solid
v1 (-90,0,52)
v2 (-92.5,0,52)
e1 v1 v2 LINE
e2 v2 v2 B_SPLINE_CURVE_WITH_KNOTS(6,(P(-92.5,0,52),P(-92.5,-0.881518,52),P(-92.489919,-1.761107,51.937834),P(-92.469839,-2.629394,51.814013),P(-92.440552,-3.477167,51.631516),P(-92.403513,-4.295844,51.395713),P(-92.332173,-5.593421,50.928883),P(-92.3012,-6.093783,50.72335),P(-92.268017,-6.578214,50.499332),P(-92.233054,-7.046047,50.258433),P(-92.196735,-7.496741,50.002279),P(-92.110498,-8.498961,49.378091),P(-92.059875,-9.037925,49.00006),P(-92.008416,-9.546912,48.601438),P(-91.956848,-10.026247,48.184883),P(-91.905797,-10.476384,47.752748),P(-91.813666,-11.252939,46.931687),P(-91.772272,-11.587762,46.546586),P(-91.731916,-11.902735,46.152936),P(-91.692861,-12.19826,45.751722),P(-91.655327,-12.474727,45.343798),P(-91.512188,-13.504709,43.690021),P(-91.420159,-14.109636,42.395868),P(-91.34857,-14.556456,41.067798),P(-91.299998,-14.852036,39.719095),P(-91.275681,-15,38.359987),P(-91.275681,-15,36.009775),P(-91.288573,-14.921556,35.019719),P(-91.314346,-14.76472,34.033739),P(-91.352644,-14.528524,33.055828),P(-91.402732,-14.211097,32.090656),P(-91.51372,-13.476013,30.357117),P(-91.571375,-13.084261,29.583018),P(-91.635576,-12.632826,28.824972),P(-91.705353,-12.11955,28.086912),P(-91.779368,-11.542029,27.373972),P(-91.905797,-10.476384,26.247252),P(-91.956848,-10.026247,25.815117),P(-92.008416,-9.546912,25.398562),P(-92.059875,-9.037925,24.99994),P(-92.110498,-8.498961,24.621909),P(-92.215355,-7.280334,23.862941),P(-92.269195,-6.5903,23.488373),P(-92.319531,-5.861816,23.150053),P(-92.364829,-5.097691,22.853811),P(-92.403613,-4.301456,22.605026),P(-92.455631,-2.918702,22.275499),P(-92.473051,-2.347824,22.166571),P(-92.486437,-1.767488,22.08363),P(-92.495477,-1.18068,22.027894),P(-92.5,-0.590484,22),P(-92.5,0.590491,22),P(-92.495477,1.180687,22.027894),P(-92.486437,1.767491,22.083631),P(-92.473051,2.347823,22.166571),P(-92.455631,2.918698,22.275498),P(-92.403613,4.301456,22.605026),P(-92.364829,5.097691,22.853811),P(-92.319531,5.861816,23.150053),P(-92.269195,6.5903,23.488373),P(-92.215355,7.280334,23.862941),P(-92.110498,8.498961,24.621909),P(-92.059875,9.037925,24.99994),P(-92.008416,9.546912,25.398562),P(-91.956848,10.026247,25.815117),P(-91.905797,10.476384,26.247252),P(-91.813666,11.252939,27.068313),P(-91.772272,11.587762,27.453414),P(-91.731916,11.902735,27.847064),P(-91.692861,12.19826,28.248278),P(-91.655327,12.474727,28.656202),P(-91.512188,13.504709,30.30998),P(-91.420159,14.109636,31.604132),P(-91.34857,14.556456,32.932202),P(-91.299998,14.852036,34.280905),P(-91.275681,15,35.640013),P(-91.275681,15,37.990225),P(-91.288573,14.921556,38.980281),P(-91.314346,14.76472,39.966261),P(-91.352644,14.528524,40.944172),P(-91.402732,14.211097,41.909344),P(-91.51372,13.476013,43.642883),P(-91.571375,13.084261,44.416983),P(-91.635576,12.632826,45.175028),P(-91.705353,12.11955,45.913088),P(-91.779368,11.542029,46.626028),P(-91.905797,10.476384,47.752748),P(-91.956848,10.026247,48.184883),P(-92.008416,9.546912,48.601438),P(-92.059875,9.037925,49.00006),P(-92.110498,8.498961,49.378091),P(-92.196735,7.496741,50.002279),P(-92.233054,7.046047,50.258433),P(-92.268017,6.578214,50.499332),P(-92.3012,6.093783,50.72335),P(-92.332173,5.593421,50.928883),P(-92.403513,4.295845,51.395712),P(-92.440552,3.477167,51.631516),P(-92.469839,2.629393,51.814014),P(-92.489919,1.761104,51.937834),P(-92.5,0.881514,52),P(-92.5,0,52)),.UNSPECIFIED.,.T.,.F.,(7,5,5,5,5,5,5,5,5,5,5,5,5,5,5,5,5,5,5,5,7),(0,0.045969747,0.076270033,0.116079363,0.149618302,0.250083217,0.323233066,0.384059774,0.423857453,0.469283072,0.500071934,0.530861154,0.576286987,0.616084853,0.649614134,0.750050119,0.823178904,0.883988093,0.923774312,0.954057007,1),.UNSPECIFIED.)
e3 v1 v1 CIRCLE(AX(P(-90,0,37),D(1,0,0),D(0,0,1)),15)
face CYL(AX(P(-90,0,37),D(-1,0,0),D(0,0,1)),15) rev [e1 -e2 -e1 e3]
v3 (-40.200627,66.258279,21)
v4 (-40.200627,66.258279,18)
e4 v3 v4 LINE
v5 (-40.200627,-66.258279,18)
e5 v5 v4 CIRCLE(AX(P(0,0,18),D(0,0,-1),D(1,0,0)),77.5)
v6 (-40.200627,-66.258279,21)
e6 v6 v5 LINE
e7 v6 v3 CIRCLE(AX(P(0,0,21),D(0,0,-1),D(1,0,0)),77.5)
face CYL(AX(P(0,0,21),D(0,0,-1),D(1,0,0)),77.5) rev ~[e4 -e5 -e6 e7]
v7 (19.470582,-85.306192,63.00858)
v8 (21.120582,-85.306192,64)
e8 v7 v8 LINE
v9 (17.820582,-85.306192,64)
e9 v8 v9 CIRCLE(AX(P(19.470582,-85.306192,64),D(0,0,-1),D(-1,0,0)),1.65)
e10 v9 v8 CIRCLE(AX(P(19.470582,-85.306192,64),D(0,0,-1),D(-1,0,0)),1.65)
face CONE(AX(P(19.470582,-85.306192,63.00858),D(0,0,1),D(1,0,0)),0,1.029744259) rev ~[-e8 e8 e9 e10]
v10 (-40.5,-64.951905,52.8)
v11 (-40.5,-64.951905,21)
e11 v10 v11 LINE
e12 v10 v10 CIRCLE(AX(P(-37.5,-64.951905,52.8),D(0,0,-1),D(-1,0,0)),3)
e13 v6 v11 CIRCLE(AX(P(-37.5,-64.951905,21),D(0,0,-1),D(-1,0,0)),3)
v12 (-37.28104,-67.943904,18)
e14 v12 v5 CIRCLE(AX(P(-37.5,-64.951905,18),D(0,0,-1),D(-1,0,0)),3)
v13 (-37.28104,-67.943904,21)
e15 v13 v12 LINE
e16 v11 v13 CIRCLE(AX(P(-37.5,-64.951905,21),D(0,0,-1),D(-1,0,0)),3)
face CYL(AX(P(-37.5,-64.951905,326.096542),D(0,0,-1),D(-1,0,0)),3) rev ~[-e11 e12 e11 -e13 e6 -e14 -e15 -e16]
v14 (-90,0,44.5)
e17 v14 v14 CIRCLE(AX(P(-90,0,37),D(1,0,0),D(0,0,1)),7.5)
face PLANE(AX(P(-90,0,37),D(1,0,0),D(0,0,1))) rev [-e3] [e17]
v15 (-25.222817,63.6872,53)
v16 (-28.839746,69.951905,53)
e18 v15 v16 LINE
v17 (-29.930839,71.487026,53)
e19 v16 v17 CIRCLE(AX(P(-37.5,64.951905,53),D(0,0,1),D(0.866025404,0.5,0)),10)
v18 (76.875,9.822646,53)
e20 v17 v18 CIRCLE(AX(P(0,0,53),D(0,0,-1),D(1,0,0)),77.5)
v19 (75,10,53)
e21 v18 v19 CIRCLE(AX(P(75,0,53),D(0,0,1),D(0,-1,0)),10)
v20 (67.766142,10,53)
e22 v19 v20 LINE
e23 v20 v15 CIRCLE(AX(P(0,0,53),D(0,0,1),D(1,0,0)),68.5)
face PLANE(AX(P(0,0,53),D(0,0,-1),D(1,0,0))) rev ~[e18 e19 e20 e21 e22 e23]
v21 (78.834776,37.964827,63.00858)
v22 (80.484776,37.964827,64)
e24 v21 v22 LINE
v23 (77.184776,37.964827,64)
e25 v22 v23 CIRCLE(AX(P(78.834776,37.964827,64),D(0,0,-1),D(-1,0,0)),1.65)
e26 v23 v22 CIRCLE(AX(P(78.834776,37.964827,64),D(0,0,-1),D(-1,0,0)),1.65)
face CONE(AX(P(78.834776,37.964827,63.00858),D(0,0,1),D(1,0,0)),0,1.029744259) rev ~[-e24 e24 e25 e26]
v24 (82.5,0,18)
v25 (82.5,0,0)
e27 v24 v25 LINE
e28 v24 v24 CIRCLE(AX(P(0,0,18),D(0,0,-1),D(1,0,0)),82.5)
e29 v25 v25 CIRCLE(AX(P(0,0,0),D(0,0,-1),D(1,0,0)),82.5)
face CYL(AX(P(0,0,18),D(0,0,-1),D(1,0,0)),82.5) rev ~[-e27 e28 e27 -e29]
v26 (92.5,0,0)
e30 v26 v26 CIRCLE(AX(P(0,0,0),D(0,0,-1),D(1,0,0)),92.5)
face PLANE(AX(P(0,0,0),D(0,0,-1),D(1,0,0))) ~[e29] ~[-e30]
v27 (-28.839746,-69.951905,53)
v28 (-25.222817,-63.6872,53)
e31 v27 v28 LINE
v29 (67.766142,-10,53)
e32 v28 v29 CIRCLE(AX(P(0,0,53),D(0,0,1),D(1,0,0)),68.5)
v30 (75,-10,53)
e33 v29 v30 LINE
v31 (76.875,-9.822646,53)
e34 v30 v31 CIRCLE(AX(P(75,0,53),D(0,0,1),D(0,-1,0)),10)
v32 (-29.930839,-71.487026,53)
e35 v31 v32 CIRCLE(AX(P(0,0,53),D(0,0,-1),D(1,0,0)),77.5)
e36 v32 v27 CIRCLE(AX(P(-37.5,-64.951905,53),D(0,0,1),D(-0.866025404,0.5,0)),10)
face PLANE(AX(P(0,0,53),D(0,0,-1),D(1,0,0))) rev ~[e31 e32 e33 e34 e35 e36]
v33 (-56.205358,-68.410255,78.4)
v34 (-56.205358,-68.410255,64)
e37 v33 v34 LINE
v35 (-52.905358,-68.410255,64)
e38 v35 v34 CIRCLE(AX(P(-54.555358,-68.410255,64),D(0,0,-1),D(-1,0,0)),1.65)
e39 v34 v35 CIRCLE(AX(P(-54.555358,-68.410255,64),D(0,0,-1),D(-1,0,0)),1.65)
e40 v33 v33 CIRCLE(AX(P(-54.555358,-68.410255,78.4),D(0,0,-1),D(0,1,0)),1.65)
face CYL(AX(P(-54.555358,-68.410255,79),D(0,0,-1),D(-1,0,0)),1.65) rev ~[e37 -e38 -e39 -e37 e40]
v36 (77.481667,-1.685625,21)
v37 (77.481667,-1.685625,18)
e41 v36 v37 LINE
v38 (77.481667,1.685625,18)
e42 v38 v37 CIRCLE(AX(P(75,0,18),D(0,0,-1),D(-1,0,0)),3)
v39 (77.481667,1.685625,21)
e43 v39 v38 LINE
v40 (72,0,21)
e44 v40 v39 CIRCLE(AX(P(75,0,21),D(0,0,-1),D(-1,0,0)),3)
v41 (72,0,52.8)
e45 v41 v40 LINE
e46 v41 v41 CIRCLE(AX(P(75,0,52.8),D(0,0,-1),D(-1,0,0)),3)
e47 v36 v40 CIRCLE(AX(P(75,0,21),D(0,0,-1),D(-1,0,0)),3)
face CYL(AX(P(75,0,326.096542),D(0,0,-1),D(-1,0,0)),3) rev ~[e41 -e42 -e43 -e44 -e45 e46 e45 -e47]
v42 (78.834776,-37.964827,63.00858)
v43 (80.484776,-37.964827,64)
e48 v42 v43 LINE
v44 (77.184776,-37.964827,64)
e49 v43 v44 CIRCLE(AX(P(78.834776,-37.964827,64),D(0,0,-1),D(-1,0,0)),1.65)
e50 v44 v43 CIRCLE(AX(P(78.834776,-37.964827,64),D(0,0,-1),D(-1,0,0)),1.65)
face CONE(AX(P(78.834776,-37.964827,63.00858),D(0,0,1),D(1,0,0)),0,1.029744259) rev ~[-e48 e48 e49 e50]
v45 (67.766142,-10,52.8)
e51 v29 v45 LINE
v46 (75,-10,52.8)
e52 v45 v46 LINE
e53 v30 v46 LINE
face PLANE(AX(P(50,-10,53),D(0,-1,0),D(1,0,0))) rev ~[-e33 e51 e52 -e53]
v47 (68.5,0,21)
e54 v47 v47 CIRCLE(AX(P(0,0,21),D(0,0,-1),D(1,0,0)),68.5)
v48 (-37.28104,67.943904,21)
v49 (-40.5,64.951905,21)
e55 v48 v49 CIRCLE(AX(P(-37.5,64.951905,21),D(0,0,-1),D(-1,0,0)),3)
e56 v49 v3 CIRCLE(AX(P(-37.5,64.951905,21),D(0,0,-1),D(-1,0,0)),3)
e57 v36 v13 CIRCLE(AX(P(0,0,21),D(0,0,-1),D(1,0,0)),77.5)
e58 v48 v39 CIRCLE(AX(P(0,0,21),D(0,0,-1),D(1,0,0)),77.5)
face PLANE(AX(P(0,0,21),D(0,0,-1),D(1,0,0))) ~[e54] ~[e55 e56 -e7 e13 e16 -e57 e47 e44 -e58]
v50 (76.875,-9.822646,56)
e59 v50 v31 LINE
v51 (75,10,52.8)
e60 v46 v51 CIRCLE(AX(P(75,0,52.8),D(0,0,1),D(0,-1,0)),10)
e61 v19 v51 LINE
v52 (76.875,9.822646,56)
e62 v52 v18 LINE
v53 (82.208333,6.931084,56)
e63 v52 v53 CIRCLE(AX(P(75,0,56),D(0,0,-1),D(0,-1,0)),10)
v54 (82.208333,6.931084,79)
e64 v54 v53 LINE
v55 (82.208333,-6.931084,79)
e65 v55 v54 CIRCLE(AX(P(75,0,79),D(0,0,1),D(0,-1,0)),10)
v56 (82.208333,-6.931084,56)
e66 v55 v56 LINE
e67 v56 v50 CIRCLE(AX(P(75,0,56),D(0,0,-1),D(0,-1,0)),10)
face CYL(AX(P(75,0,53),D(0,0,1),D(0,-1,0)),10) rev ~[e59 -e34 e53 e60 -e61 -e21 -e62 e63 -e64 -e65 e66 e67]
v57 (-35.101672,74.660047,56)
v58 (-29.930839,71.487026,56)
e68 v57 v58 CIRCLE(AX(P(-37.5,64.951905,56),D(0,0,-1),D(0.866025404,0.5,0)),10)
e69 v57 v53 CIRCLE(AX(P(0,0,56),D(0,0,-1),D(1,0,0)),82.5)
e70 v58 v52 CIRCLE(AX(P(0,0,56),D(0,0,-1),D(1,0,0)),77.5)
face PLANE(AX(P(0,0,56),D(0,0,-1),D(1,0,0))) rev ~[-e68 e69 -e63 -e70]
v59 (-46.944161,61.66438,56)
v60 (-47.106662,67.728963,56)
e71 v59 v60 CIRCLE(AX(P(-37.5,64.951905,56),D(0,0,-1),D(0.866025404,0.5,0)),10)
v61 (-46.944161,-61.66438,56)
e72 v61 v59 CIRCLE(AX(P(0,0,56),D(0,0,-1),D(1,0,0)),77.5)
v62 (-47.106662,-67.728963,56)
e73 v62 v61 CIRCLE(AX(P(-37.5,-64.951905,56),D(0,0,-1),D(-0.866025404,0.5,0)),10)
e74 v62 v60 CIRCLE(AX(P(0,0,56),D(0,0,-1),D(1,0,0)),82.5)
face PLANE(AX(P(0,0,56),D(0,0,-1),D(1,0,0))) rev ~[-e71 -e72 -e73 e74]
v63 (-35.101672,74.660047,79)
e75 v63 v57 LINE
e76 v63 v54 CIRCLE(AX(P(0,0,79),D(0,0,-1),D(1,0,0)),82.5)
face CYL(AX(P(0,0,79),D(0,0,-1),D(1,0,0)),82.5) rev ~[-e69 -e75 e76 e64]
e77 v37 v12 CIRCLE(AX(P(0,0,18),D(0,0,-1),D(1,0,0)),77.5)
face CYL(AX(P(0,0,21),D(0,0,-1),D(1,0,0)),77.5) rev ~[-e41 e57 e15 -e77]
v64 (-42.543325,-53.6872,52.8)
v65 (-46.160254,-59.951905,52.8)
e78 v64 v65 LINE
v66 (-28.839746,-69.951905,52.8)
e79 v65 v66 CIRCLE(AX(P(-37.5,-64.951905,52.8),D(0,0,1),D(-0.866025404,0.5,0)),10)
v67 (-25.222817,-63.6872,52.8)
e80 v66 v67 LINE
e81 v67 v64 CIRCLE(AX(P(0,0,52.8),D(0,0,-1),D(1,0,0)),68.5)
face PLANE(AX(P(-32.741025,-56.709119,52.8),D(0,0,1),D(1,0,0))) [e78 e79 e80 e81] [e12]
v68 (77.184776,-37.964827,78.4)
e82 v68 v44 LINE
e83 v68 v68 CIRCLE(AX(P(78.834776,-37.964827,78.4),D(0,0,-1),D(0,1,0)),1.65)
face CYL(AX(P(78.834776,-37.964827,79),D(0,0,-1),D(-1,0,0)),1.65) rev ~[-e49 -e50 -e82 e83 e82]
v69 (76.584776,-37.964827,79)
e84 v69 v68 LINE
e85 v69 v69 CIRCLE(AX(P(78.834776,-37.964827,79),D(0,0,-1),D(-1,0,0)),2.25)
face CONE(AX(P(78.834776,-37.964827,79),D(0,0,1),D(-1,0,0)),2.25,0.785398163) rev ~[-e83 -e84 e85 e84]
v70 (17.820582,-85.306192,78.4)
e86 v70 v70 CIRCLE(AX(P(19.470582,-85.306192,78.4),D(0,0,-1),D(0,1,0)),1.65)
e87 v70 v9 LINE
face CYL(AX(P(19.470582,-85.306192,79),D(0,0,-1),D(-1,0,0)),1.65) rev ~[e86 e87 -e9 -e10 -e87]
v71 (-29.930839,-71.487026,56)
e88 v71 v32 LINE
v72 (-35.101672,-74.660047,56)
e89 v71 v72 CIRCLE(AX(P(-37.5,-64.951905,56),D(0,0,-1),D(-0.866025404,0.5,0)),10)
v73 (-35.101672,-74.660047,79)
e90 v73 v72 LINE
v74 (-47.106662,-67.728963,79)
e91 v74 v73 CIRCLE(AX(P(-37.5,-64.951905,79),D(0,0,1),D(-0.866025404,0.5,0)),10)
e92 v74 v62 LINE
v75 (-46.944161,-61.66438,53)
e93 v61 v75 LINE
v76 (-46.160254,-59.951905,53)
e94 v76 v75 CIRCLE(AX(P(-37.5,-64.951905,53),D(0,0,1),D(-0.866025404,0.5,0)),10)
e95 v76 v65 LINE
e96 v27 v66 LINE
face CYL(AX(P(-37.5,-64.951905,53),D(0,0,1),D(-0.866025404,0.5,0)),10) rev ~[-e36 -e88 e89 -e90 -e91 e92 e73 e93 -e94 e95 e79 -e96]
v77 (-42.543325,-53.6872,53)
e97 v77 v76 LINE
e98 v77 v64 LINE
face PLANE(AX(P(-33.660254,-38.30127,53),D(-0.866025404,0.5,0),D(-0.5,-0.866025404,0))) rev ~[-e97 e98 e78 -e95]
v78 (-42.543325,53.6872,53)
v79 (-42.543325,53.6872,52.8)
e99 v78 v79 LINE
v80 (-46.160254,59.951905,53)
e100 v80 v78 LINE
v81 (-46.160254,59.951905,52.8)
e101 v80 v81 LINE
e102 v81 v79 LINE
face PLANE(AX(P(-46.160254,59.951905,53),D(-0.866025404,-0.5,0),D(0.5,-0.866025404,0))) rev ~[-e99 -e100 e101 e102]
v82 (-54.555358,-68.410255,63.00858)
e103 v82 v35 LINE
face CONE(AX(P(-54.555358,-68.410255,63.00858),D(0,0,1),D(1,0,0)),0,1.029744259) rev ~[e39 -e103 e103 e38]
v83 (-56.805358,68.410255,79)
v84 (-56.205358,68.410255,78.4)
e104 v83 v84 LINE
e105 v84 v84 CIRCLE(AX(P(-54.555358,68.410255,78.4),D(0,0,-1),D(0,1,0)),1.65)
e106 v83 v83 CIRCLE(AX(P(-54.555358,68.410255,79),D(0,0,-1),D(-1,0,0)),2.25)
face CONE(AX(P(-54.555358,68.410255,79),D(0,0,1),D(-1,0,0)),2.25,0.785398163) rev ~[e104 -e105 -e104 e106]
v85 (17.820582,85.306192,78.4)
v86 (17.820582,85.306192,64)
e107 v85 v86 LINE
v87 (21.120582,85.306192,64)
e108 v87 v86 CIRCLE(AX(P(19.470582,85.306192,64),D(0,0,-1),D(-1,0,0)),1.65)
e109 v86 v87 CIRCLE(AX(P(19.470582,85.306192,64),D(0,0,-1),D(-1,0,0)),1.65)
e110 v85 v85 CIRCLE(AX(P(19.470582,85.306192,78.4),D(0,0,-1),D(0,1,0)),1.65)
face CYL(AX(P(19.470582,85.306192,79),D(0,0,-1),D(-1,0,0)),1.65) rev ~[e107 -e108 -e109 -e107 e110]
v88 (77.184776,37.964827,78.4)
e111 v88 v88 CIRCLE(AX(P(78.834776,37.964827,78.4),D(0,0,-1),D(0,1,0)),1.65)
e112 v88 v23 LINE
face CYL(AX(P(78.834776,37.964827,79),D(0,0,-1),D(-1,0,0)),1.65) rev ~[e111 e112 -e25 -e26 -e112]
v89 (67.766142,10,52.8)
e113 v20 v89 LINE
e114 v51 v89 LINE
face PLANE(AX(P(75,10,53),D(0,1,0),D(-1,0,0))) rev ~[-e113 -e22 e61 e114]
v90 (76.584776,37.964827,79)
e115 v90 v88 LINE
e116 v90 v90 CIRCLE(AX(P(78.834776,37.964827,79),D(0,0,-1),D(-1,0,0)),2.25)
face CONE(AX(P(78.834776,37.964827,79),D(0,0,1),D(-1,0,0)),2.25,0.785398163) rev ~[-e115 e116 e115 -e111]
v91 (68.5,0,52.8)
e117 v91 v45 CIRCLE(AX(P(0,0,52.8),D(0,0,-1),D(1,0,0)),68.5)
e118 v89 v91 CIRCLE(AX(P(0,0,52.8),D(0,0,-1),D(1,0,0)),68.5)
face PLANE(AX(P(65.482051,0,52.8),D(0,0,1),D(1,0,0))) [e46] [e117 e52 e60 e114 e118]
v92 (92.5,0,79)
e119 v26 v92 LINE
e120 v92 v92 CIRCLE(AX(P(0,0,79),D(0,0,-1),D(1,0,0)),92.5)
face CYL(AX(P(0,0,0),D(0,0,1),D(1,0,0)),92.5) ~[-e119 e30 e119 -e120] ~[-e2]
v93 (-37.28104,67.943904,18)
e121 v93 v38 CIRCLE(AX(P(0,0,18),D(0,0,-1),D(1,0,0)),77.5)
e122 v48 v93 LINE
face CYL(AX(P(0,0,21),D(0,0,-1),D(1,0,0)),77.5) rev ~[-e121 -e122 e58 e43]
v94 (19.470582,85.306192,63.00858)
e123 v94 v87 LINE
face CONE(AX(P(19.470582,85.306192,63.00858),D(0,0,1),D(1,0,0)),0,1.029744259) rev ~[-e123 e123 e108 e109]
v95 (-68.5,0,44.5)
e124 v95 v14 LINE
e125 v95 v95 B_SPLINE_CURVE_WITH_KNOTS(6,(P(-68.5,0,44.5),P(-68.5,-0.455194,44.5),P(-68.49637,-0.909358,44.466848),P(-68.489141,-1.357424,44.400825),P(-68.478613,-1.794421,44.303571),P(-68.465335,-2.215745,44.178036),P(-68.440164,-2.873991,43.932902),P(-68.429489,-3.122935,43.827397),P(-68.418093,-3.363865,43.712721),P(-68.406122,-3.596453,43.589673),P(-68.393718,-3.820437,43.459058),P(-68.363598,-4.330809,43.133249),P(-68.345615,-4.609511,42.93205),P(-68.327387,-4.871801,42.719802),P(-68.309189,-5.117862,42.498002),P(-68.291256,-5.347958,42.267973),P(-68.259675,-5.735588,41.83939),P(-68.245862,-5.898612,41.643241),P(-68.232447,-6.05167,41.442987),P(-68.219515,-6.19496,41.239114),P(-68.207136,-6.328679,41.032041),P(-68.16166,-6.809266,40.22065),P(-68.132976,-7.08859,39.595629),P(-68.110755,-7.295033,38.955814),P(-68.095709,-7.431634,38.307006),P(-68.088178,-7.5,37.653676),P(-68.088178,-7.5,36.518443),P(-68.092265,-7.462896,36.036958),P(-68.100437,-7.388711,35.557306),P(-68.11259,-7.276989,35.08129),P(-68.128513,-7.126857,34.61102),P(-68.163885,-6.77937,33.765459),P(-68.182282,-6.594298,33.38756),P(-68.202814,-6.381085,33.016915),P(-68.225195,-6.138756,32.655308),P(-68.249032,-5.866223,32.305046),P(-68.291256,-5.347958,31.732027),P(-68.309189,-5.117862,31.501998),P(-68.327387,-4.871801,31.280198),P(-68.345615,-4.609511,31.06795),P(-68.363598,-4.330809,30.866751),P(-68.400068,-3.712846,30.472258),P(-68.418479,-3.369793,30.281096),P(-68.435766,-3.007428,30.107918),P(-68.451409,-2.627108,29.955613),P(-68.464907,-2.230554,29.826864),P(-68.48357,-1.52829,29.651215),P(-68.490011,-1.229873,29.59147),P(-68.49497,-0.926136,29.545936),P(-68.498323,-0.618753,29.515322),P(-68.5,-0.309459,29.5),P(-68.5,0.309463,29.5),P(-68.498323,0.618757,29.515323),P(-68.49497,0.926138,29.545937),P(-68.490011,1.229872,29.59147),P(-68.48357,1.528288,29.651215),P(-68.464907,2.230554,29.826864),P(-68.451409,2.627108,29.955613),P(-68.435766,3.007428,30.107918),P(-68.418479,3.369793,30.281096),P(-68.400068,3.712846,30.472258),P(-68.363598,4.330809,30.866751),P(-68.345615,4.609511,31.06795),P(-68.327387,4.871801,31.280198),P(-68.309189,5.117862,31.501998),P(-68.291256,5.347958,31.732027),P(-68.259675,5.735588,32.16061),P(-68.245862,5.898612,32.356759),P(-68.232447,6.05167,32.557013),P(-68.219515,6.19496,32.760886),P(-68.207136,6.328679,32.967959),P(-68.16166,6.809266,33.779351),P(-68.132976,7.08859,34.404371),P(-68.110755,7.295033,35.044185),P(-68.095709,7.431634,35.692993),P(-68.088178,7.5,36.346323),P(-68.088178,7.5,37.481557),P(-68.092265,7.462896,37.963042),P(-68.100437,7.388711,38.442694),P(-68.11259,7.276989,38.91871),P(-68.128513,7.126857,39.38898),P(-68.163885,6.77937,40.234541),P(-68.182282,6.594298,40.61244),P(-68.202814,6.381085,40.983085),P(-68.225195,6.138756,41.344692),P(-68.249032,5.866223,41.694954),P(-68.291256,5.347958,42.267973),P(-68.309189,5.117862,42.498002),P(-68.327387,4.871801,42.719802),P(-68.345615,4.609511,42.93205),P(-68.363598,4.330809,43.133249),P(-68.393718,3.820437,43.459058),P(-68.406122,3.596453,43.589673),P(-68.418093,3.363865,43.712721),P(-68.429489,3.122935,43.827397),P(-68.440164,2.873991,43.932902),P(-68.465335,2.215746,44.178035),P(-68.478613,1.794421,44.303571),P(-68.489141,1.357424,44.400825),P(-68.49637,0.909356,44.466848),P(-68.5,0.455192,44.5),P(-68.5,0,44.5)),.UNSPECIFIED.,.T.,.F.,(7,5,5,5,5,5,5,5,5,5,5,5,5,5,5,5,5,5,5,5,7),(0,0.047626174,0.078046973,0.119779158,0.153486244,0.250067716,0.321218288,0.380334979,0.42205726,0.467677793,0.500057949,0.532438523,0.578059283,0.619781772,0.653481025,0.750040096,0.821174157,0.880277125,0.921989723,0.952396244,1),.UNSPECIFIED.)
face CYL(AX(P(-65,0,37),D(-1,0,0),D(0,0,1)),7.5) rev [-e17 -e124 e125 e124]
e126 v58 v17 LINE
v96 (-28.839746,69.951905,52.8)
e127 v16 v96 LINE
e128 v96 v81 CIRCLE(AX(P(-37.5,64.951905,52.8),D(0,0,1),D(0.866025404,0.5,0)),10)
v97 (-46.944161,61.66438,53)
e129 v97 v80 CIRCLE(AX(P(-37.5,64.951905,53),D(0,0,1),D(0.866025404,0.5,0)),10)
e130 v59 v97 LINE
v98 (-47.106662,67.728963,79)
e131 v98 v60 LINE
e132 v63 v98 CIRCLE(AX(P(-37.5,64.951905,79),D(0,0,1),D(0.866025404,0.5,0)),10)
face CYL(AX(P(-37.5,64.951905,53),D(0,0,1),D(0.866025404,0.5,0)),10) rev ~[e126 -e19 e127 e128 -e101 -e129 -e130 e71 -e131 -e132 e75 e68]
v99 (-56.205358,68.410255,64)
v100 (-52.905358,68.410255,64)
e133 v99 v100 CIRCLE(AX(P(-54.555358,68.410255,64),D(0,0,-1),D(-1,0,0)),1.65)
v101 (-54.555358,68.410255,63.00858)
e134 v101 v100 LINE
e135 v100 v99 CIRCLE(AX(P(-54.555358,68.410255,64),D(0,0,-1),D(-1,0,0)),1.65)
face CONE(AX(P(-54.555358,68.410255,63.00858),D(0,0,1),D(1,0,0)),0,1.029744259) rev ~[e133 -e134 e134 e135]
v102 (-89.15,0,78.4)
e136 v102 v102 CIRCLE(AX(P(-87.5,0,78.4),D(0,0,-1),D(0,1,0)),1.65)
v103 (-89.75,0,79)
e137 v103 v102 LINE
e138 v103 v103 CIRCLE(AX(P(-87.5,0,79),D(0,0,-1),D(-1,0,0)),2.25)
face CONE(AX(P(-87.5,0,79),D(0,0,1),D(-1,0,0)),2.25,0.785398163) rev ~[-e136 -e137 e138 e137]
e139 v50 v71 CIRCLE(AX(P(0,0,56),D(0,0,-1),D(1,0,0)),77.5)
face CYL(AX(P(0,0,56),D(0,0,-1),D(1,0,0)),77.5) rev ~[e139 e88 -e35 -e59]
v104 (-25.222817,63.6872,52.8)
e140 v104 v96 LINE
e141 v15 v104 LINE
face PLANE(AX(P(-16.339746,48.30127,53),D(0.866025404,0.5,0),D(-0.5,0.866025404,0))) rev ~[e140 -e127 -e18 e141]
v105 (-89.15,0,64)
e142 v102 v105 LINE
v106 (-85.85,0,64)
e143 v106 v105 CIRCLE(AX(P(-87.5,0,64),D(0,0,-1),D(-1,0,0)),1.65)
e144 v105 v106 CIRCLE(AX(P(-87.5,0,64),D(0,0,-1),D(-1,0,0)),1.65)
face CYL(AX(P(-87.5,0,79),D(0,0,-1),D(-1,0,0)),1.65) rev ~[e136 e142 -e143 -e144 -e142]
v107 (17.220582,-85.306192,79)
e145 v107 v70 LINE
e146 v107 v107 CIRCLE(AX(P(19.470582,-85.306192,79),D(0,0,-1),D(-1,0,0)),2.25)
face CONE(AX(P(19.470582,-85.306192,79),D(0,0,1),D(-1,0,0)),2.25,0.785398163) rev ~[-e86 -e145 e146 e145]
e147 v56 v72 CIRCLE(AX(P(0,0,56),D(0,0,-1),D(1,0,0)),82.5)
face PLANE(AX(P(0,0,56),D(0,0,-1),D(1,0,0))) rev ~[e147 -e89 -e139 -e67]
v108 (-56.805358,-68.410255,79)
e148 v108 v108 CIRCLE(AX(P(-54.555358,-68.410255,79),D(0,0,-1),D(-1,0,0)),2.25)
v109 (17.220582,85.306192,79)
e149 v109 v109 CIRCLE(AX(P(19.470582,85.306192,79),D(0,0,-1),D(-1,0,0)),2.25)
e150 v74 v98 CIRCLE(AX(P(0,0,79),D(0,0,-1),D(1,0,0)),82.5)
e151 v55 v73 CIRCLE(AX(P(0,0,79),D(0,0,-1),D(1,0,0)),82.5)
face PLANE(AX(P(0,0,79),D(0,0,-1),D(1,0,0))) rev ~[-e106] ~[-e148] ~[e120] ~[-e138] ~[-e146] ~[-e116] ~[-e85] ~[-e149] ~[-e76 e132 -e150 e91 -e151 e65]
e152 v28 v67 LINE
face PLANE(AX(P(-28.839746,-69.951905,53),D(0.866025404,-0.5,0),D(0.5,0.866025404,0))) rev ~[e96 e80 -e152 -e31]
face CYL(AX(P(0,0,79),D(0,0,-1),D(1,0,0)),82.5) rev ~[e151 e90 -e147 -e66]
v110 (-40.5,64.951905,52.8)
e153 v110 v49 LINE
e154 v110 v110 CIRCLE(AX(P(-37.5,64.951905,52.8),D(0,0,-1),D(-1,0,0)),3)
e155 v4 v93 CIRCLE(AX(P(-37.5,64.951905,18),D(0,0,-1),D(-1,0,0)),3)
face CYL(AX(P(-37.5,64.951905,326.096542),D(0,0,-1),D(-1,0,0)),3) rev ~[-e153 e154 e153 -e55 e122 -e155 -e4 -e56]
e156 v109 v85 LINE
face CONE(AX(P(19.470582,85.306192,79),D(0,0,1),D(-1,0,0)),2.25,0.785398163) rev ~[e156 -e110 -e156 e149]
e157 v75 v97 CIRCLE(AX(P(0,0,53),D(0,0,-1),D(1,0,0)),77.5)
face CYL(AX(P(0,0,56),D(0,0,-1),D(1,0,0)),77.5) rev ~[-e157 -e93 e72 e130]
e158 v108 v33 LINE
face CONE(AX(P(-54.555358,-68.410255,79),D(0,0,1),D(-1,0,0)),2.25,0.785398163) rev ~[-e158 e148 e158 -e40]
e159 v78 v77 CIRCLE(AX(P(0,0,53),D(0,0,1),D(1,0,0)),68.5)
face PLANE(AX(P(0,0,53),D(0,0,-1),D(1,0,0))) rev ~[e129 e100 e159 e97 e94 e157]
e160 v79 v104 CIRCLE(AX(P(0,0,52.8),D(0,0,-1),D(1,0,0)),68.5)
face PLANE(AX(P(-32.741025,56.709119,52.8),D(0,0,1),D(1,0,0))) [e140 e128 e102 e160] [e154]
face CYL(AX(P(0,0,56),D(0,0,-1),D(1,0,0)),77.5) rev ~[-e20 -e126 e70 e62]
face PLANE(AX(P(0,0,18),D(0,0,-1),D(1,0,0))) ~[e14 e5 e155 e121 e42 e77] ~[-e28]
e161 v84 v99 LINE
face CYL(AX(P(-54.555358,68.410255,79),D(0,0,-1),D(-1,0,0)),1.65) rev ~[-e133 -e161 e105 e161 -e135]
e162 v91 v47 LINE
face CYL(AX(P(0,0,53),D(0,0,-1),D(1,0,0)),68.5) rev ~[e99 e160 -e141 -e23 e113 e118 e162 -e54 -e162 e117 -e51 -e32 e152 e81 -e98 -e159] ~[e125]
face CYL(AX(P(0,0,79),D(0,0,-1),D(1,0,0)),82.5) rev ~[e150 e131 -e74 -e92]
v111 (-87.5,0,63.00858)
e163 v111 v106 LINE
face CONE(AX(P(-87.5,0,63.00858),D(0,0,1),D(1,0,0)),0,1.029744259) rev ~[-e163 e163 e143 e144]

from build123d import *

# Parameters (mm, degrees)
F3_DEPTH       = 26
F3_DEPTH_BACK  = 0.2
F5_D           = 6
F9_D           = 3.3
F9_DEPTH       = 15
F9_CSINK_D     = 4.5
F9_CSINK_ANGLE = 90
F9_TIP         = 0.9914200214


with BuildPart() as f1:
    # F0 (on Front) → F1 (revolve)
    with BuildSketch(Plane.XZ):
        Polygon((77.5, 21), (77.5, 18), (82.5, 18), (82.5, 0), (92.5, 0), (92.5, 79), (82.5, 79), (82.5, 56), (77.5, 56), (77.5, 53), (68.5, 53), (68.5, 21), align=None)
    revolve(axis=Axis((0, 0, 27.8796814382), (0, 0, -1)))

    # F2 (on face) → F3 (cut, two sides)
    with BuildSketch(Plane.XY.offset(53)) as f3_sk:
        with BuildLine():
            Line((50, -10), (75, -10))
            ThreePointArc((75, -10), (85, 0), (75, 10))
            Line((75, 10), (50, 10))
            Line((50, 10), (50, -10))
        make_face()
        with BuildLine():
            Line((-16.3397459622, 48.3012701892), (-28.8397459622, 69.9519052838))
            ThreePointArc((-28.8397459622, 69.9519052838), (-42.5, 73.6121593217), (-46.1602540378, 59.9519052838))
            Line((-46.1602540378, 59.9519052838), (-33.6602540378, 38.3012701892))
            Line((-33.6602540378, 38.3012701892), (-16.3397459622, 48.3012701892))
        make_face()
        with BuildLine():
            Line((-33.6602540378, -38.3012701892), (-46.1602540378, -59.9519052838))
            ThreePointArc((-46.1602540378, -59.9519052838), (-42.5, -73.6121593217), (-28.8397459622, -69.9519052838))
            Line((-28.8397459622, -69.9519052838), (-16.3397459622, -48.3012701892))
            Line((-16.3397459622, -48.3012701892), (-33.6602540378, -38.3012701892))
        make_face()
    extrude(amount=F3_DEPTH, mode=Mode.SUBTRACT)
    extrude(f3_sk.sketch, amount=-F3_DEPTH_BACK, mode=Mode.SUBTRACT)

    # F5 (through all)
    with Locations(Plane.XY.offset(52.8)):
        with Locations((75, 0), (-37.5, 64.9519052838), (-37.5, -64.9519052838)):
            Hole(F5_D / 2)

    # F6 (on Front) → F7 (revolve, cut)
    with BuildSketch(Plane.XZ):
        Polygon((-95, 52), (-95, 37), (-65, 37), (-65, 44.5), (-90, 44.5), (-90, 52), align=None)
    revolve(axis=Axis((-80, 0, 37), (1, 0, 0)), mode=Mode.SUBTRACT)

    # F9
    with Locations(Plane.XY.offset(79)):
        with Locations((-87.5, 0), (-54.5553576626, 68.410254716), (19.4705817212, 85.3061923159), (78.8347759415, 37.9648271728), (78.8347759415, -37.9648271728), (19.4705817212, -85.3061923159), (-54.5553576626, -68.410254716)):
            CounterSinkHole(F9_D / 2, F9_CSINK_D / 2, depth=F9_DEPTH, counter_sink_angle=F9_CSINK_ANGLE)
            with Locations((0, 0, -(F9_DEPTH + F9_TIP / 2))):  # 118° drill point
                Cone(0, F9_D / 2, F9_TIP, mode=Mode.SUBTRACT)


solid = f1.part
